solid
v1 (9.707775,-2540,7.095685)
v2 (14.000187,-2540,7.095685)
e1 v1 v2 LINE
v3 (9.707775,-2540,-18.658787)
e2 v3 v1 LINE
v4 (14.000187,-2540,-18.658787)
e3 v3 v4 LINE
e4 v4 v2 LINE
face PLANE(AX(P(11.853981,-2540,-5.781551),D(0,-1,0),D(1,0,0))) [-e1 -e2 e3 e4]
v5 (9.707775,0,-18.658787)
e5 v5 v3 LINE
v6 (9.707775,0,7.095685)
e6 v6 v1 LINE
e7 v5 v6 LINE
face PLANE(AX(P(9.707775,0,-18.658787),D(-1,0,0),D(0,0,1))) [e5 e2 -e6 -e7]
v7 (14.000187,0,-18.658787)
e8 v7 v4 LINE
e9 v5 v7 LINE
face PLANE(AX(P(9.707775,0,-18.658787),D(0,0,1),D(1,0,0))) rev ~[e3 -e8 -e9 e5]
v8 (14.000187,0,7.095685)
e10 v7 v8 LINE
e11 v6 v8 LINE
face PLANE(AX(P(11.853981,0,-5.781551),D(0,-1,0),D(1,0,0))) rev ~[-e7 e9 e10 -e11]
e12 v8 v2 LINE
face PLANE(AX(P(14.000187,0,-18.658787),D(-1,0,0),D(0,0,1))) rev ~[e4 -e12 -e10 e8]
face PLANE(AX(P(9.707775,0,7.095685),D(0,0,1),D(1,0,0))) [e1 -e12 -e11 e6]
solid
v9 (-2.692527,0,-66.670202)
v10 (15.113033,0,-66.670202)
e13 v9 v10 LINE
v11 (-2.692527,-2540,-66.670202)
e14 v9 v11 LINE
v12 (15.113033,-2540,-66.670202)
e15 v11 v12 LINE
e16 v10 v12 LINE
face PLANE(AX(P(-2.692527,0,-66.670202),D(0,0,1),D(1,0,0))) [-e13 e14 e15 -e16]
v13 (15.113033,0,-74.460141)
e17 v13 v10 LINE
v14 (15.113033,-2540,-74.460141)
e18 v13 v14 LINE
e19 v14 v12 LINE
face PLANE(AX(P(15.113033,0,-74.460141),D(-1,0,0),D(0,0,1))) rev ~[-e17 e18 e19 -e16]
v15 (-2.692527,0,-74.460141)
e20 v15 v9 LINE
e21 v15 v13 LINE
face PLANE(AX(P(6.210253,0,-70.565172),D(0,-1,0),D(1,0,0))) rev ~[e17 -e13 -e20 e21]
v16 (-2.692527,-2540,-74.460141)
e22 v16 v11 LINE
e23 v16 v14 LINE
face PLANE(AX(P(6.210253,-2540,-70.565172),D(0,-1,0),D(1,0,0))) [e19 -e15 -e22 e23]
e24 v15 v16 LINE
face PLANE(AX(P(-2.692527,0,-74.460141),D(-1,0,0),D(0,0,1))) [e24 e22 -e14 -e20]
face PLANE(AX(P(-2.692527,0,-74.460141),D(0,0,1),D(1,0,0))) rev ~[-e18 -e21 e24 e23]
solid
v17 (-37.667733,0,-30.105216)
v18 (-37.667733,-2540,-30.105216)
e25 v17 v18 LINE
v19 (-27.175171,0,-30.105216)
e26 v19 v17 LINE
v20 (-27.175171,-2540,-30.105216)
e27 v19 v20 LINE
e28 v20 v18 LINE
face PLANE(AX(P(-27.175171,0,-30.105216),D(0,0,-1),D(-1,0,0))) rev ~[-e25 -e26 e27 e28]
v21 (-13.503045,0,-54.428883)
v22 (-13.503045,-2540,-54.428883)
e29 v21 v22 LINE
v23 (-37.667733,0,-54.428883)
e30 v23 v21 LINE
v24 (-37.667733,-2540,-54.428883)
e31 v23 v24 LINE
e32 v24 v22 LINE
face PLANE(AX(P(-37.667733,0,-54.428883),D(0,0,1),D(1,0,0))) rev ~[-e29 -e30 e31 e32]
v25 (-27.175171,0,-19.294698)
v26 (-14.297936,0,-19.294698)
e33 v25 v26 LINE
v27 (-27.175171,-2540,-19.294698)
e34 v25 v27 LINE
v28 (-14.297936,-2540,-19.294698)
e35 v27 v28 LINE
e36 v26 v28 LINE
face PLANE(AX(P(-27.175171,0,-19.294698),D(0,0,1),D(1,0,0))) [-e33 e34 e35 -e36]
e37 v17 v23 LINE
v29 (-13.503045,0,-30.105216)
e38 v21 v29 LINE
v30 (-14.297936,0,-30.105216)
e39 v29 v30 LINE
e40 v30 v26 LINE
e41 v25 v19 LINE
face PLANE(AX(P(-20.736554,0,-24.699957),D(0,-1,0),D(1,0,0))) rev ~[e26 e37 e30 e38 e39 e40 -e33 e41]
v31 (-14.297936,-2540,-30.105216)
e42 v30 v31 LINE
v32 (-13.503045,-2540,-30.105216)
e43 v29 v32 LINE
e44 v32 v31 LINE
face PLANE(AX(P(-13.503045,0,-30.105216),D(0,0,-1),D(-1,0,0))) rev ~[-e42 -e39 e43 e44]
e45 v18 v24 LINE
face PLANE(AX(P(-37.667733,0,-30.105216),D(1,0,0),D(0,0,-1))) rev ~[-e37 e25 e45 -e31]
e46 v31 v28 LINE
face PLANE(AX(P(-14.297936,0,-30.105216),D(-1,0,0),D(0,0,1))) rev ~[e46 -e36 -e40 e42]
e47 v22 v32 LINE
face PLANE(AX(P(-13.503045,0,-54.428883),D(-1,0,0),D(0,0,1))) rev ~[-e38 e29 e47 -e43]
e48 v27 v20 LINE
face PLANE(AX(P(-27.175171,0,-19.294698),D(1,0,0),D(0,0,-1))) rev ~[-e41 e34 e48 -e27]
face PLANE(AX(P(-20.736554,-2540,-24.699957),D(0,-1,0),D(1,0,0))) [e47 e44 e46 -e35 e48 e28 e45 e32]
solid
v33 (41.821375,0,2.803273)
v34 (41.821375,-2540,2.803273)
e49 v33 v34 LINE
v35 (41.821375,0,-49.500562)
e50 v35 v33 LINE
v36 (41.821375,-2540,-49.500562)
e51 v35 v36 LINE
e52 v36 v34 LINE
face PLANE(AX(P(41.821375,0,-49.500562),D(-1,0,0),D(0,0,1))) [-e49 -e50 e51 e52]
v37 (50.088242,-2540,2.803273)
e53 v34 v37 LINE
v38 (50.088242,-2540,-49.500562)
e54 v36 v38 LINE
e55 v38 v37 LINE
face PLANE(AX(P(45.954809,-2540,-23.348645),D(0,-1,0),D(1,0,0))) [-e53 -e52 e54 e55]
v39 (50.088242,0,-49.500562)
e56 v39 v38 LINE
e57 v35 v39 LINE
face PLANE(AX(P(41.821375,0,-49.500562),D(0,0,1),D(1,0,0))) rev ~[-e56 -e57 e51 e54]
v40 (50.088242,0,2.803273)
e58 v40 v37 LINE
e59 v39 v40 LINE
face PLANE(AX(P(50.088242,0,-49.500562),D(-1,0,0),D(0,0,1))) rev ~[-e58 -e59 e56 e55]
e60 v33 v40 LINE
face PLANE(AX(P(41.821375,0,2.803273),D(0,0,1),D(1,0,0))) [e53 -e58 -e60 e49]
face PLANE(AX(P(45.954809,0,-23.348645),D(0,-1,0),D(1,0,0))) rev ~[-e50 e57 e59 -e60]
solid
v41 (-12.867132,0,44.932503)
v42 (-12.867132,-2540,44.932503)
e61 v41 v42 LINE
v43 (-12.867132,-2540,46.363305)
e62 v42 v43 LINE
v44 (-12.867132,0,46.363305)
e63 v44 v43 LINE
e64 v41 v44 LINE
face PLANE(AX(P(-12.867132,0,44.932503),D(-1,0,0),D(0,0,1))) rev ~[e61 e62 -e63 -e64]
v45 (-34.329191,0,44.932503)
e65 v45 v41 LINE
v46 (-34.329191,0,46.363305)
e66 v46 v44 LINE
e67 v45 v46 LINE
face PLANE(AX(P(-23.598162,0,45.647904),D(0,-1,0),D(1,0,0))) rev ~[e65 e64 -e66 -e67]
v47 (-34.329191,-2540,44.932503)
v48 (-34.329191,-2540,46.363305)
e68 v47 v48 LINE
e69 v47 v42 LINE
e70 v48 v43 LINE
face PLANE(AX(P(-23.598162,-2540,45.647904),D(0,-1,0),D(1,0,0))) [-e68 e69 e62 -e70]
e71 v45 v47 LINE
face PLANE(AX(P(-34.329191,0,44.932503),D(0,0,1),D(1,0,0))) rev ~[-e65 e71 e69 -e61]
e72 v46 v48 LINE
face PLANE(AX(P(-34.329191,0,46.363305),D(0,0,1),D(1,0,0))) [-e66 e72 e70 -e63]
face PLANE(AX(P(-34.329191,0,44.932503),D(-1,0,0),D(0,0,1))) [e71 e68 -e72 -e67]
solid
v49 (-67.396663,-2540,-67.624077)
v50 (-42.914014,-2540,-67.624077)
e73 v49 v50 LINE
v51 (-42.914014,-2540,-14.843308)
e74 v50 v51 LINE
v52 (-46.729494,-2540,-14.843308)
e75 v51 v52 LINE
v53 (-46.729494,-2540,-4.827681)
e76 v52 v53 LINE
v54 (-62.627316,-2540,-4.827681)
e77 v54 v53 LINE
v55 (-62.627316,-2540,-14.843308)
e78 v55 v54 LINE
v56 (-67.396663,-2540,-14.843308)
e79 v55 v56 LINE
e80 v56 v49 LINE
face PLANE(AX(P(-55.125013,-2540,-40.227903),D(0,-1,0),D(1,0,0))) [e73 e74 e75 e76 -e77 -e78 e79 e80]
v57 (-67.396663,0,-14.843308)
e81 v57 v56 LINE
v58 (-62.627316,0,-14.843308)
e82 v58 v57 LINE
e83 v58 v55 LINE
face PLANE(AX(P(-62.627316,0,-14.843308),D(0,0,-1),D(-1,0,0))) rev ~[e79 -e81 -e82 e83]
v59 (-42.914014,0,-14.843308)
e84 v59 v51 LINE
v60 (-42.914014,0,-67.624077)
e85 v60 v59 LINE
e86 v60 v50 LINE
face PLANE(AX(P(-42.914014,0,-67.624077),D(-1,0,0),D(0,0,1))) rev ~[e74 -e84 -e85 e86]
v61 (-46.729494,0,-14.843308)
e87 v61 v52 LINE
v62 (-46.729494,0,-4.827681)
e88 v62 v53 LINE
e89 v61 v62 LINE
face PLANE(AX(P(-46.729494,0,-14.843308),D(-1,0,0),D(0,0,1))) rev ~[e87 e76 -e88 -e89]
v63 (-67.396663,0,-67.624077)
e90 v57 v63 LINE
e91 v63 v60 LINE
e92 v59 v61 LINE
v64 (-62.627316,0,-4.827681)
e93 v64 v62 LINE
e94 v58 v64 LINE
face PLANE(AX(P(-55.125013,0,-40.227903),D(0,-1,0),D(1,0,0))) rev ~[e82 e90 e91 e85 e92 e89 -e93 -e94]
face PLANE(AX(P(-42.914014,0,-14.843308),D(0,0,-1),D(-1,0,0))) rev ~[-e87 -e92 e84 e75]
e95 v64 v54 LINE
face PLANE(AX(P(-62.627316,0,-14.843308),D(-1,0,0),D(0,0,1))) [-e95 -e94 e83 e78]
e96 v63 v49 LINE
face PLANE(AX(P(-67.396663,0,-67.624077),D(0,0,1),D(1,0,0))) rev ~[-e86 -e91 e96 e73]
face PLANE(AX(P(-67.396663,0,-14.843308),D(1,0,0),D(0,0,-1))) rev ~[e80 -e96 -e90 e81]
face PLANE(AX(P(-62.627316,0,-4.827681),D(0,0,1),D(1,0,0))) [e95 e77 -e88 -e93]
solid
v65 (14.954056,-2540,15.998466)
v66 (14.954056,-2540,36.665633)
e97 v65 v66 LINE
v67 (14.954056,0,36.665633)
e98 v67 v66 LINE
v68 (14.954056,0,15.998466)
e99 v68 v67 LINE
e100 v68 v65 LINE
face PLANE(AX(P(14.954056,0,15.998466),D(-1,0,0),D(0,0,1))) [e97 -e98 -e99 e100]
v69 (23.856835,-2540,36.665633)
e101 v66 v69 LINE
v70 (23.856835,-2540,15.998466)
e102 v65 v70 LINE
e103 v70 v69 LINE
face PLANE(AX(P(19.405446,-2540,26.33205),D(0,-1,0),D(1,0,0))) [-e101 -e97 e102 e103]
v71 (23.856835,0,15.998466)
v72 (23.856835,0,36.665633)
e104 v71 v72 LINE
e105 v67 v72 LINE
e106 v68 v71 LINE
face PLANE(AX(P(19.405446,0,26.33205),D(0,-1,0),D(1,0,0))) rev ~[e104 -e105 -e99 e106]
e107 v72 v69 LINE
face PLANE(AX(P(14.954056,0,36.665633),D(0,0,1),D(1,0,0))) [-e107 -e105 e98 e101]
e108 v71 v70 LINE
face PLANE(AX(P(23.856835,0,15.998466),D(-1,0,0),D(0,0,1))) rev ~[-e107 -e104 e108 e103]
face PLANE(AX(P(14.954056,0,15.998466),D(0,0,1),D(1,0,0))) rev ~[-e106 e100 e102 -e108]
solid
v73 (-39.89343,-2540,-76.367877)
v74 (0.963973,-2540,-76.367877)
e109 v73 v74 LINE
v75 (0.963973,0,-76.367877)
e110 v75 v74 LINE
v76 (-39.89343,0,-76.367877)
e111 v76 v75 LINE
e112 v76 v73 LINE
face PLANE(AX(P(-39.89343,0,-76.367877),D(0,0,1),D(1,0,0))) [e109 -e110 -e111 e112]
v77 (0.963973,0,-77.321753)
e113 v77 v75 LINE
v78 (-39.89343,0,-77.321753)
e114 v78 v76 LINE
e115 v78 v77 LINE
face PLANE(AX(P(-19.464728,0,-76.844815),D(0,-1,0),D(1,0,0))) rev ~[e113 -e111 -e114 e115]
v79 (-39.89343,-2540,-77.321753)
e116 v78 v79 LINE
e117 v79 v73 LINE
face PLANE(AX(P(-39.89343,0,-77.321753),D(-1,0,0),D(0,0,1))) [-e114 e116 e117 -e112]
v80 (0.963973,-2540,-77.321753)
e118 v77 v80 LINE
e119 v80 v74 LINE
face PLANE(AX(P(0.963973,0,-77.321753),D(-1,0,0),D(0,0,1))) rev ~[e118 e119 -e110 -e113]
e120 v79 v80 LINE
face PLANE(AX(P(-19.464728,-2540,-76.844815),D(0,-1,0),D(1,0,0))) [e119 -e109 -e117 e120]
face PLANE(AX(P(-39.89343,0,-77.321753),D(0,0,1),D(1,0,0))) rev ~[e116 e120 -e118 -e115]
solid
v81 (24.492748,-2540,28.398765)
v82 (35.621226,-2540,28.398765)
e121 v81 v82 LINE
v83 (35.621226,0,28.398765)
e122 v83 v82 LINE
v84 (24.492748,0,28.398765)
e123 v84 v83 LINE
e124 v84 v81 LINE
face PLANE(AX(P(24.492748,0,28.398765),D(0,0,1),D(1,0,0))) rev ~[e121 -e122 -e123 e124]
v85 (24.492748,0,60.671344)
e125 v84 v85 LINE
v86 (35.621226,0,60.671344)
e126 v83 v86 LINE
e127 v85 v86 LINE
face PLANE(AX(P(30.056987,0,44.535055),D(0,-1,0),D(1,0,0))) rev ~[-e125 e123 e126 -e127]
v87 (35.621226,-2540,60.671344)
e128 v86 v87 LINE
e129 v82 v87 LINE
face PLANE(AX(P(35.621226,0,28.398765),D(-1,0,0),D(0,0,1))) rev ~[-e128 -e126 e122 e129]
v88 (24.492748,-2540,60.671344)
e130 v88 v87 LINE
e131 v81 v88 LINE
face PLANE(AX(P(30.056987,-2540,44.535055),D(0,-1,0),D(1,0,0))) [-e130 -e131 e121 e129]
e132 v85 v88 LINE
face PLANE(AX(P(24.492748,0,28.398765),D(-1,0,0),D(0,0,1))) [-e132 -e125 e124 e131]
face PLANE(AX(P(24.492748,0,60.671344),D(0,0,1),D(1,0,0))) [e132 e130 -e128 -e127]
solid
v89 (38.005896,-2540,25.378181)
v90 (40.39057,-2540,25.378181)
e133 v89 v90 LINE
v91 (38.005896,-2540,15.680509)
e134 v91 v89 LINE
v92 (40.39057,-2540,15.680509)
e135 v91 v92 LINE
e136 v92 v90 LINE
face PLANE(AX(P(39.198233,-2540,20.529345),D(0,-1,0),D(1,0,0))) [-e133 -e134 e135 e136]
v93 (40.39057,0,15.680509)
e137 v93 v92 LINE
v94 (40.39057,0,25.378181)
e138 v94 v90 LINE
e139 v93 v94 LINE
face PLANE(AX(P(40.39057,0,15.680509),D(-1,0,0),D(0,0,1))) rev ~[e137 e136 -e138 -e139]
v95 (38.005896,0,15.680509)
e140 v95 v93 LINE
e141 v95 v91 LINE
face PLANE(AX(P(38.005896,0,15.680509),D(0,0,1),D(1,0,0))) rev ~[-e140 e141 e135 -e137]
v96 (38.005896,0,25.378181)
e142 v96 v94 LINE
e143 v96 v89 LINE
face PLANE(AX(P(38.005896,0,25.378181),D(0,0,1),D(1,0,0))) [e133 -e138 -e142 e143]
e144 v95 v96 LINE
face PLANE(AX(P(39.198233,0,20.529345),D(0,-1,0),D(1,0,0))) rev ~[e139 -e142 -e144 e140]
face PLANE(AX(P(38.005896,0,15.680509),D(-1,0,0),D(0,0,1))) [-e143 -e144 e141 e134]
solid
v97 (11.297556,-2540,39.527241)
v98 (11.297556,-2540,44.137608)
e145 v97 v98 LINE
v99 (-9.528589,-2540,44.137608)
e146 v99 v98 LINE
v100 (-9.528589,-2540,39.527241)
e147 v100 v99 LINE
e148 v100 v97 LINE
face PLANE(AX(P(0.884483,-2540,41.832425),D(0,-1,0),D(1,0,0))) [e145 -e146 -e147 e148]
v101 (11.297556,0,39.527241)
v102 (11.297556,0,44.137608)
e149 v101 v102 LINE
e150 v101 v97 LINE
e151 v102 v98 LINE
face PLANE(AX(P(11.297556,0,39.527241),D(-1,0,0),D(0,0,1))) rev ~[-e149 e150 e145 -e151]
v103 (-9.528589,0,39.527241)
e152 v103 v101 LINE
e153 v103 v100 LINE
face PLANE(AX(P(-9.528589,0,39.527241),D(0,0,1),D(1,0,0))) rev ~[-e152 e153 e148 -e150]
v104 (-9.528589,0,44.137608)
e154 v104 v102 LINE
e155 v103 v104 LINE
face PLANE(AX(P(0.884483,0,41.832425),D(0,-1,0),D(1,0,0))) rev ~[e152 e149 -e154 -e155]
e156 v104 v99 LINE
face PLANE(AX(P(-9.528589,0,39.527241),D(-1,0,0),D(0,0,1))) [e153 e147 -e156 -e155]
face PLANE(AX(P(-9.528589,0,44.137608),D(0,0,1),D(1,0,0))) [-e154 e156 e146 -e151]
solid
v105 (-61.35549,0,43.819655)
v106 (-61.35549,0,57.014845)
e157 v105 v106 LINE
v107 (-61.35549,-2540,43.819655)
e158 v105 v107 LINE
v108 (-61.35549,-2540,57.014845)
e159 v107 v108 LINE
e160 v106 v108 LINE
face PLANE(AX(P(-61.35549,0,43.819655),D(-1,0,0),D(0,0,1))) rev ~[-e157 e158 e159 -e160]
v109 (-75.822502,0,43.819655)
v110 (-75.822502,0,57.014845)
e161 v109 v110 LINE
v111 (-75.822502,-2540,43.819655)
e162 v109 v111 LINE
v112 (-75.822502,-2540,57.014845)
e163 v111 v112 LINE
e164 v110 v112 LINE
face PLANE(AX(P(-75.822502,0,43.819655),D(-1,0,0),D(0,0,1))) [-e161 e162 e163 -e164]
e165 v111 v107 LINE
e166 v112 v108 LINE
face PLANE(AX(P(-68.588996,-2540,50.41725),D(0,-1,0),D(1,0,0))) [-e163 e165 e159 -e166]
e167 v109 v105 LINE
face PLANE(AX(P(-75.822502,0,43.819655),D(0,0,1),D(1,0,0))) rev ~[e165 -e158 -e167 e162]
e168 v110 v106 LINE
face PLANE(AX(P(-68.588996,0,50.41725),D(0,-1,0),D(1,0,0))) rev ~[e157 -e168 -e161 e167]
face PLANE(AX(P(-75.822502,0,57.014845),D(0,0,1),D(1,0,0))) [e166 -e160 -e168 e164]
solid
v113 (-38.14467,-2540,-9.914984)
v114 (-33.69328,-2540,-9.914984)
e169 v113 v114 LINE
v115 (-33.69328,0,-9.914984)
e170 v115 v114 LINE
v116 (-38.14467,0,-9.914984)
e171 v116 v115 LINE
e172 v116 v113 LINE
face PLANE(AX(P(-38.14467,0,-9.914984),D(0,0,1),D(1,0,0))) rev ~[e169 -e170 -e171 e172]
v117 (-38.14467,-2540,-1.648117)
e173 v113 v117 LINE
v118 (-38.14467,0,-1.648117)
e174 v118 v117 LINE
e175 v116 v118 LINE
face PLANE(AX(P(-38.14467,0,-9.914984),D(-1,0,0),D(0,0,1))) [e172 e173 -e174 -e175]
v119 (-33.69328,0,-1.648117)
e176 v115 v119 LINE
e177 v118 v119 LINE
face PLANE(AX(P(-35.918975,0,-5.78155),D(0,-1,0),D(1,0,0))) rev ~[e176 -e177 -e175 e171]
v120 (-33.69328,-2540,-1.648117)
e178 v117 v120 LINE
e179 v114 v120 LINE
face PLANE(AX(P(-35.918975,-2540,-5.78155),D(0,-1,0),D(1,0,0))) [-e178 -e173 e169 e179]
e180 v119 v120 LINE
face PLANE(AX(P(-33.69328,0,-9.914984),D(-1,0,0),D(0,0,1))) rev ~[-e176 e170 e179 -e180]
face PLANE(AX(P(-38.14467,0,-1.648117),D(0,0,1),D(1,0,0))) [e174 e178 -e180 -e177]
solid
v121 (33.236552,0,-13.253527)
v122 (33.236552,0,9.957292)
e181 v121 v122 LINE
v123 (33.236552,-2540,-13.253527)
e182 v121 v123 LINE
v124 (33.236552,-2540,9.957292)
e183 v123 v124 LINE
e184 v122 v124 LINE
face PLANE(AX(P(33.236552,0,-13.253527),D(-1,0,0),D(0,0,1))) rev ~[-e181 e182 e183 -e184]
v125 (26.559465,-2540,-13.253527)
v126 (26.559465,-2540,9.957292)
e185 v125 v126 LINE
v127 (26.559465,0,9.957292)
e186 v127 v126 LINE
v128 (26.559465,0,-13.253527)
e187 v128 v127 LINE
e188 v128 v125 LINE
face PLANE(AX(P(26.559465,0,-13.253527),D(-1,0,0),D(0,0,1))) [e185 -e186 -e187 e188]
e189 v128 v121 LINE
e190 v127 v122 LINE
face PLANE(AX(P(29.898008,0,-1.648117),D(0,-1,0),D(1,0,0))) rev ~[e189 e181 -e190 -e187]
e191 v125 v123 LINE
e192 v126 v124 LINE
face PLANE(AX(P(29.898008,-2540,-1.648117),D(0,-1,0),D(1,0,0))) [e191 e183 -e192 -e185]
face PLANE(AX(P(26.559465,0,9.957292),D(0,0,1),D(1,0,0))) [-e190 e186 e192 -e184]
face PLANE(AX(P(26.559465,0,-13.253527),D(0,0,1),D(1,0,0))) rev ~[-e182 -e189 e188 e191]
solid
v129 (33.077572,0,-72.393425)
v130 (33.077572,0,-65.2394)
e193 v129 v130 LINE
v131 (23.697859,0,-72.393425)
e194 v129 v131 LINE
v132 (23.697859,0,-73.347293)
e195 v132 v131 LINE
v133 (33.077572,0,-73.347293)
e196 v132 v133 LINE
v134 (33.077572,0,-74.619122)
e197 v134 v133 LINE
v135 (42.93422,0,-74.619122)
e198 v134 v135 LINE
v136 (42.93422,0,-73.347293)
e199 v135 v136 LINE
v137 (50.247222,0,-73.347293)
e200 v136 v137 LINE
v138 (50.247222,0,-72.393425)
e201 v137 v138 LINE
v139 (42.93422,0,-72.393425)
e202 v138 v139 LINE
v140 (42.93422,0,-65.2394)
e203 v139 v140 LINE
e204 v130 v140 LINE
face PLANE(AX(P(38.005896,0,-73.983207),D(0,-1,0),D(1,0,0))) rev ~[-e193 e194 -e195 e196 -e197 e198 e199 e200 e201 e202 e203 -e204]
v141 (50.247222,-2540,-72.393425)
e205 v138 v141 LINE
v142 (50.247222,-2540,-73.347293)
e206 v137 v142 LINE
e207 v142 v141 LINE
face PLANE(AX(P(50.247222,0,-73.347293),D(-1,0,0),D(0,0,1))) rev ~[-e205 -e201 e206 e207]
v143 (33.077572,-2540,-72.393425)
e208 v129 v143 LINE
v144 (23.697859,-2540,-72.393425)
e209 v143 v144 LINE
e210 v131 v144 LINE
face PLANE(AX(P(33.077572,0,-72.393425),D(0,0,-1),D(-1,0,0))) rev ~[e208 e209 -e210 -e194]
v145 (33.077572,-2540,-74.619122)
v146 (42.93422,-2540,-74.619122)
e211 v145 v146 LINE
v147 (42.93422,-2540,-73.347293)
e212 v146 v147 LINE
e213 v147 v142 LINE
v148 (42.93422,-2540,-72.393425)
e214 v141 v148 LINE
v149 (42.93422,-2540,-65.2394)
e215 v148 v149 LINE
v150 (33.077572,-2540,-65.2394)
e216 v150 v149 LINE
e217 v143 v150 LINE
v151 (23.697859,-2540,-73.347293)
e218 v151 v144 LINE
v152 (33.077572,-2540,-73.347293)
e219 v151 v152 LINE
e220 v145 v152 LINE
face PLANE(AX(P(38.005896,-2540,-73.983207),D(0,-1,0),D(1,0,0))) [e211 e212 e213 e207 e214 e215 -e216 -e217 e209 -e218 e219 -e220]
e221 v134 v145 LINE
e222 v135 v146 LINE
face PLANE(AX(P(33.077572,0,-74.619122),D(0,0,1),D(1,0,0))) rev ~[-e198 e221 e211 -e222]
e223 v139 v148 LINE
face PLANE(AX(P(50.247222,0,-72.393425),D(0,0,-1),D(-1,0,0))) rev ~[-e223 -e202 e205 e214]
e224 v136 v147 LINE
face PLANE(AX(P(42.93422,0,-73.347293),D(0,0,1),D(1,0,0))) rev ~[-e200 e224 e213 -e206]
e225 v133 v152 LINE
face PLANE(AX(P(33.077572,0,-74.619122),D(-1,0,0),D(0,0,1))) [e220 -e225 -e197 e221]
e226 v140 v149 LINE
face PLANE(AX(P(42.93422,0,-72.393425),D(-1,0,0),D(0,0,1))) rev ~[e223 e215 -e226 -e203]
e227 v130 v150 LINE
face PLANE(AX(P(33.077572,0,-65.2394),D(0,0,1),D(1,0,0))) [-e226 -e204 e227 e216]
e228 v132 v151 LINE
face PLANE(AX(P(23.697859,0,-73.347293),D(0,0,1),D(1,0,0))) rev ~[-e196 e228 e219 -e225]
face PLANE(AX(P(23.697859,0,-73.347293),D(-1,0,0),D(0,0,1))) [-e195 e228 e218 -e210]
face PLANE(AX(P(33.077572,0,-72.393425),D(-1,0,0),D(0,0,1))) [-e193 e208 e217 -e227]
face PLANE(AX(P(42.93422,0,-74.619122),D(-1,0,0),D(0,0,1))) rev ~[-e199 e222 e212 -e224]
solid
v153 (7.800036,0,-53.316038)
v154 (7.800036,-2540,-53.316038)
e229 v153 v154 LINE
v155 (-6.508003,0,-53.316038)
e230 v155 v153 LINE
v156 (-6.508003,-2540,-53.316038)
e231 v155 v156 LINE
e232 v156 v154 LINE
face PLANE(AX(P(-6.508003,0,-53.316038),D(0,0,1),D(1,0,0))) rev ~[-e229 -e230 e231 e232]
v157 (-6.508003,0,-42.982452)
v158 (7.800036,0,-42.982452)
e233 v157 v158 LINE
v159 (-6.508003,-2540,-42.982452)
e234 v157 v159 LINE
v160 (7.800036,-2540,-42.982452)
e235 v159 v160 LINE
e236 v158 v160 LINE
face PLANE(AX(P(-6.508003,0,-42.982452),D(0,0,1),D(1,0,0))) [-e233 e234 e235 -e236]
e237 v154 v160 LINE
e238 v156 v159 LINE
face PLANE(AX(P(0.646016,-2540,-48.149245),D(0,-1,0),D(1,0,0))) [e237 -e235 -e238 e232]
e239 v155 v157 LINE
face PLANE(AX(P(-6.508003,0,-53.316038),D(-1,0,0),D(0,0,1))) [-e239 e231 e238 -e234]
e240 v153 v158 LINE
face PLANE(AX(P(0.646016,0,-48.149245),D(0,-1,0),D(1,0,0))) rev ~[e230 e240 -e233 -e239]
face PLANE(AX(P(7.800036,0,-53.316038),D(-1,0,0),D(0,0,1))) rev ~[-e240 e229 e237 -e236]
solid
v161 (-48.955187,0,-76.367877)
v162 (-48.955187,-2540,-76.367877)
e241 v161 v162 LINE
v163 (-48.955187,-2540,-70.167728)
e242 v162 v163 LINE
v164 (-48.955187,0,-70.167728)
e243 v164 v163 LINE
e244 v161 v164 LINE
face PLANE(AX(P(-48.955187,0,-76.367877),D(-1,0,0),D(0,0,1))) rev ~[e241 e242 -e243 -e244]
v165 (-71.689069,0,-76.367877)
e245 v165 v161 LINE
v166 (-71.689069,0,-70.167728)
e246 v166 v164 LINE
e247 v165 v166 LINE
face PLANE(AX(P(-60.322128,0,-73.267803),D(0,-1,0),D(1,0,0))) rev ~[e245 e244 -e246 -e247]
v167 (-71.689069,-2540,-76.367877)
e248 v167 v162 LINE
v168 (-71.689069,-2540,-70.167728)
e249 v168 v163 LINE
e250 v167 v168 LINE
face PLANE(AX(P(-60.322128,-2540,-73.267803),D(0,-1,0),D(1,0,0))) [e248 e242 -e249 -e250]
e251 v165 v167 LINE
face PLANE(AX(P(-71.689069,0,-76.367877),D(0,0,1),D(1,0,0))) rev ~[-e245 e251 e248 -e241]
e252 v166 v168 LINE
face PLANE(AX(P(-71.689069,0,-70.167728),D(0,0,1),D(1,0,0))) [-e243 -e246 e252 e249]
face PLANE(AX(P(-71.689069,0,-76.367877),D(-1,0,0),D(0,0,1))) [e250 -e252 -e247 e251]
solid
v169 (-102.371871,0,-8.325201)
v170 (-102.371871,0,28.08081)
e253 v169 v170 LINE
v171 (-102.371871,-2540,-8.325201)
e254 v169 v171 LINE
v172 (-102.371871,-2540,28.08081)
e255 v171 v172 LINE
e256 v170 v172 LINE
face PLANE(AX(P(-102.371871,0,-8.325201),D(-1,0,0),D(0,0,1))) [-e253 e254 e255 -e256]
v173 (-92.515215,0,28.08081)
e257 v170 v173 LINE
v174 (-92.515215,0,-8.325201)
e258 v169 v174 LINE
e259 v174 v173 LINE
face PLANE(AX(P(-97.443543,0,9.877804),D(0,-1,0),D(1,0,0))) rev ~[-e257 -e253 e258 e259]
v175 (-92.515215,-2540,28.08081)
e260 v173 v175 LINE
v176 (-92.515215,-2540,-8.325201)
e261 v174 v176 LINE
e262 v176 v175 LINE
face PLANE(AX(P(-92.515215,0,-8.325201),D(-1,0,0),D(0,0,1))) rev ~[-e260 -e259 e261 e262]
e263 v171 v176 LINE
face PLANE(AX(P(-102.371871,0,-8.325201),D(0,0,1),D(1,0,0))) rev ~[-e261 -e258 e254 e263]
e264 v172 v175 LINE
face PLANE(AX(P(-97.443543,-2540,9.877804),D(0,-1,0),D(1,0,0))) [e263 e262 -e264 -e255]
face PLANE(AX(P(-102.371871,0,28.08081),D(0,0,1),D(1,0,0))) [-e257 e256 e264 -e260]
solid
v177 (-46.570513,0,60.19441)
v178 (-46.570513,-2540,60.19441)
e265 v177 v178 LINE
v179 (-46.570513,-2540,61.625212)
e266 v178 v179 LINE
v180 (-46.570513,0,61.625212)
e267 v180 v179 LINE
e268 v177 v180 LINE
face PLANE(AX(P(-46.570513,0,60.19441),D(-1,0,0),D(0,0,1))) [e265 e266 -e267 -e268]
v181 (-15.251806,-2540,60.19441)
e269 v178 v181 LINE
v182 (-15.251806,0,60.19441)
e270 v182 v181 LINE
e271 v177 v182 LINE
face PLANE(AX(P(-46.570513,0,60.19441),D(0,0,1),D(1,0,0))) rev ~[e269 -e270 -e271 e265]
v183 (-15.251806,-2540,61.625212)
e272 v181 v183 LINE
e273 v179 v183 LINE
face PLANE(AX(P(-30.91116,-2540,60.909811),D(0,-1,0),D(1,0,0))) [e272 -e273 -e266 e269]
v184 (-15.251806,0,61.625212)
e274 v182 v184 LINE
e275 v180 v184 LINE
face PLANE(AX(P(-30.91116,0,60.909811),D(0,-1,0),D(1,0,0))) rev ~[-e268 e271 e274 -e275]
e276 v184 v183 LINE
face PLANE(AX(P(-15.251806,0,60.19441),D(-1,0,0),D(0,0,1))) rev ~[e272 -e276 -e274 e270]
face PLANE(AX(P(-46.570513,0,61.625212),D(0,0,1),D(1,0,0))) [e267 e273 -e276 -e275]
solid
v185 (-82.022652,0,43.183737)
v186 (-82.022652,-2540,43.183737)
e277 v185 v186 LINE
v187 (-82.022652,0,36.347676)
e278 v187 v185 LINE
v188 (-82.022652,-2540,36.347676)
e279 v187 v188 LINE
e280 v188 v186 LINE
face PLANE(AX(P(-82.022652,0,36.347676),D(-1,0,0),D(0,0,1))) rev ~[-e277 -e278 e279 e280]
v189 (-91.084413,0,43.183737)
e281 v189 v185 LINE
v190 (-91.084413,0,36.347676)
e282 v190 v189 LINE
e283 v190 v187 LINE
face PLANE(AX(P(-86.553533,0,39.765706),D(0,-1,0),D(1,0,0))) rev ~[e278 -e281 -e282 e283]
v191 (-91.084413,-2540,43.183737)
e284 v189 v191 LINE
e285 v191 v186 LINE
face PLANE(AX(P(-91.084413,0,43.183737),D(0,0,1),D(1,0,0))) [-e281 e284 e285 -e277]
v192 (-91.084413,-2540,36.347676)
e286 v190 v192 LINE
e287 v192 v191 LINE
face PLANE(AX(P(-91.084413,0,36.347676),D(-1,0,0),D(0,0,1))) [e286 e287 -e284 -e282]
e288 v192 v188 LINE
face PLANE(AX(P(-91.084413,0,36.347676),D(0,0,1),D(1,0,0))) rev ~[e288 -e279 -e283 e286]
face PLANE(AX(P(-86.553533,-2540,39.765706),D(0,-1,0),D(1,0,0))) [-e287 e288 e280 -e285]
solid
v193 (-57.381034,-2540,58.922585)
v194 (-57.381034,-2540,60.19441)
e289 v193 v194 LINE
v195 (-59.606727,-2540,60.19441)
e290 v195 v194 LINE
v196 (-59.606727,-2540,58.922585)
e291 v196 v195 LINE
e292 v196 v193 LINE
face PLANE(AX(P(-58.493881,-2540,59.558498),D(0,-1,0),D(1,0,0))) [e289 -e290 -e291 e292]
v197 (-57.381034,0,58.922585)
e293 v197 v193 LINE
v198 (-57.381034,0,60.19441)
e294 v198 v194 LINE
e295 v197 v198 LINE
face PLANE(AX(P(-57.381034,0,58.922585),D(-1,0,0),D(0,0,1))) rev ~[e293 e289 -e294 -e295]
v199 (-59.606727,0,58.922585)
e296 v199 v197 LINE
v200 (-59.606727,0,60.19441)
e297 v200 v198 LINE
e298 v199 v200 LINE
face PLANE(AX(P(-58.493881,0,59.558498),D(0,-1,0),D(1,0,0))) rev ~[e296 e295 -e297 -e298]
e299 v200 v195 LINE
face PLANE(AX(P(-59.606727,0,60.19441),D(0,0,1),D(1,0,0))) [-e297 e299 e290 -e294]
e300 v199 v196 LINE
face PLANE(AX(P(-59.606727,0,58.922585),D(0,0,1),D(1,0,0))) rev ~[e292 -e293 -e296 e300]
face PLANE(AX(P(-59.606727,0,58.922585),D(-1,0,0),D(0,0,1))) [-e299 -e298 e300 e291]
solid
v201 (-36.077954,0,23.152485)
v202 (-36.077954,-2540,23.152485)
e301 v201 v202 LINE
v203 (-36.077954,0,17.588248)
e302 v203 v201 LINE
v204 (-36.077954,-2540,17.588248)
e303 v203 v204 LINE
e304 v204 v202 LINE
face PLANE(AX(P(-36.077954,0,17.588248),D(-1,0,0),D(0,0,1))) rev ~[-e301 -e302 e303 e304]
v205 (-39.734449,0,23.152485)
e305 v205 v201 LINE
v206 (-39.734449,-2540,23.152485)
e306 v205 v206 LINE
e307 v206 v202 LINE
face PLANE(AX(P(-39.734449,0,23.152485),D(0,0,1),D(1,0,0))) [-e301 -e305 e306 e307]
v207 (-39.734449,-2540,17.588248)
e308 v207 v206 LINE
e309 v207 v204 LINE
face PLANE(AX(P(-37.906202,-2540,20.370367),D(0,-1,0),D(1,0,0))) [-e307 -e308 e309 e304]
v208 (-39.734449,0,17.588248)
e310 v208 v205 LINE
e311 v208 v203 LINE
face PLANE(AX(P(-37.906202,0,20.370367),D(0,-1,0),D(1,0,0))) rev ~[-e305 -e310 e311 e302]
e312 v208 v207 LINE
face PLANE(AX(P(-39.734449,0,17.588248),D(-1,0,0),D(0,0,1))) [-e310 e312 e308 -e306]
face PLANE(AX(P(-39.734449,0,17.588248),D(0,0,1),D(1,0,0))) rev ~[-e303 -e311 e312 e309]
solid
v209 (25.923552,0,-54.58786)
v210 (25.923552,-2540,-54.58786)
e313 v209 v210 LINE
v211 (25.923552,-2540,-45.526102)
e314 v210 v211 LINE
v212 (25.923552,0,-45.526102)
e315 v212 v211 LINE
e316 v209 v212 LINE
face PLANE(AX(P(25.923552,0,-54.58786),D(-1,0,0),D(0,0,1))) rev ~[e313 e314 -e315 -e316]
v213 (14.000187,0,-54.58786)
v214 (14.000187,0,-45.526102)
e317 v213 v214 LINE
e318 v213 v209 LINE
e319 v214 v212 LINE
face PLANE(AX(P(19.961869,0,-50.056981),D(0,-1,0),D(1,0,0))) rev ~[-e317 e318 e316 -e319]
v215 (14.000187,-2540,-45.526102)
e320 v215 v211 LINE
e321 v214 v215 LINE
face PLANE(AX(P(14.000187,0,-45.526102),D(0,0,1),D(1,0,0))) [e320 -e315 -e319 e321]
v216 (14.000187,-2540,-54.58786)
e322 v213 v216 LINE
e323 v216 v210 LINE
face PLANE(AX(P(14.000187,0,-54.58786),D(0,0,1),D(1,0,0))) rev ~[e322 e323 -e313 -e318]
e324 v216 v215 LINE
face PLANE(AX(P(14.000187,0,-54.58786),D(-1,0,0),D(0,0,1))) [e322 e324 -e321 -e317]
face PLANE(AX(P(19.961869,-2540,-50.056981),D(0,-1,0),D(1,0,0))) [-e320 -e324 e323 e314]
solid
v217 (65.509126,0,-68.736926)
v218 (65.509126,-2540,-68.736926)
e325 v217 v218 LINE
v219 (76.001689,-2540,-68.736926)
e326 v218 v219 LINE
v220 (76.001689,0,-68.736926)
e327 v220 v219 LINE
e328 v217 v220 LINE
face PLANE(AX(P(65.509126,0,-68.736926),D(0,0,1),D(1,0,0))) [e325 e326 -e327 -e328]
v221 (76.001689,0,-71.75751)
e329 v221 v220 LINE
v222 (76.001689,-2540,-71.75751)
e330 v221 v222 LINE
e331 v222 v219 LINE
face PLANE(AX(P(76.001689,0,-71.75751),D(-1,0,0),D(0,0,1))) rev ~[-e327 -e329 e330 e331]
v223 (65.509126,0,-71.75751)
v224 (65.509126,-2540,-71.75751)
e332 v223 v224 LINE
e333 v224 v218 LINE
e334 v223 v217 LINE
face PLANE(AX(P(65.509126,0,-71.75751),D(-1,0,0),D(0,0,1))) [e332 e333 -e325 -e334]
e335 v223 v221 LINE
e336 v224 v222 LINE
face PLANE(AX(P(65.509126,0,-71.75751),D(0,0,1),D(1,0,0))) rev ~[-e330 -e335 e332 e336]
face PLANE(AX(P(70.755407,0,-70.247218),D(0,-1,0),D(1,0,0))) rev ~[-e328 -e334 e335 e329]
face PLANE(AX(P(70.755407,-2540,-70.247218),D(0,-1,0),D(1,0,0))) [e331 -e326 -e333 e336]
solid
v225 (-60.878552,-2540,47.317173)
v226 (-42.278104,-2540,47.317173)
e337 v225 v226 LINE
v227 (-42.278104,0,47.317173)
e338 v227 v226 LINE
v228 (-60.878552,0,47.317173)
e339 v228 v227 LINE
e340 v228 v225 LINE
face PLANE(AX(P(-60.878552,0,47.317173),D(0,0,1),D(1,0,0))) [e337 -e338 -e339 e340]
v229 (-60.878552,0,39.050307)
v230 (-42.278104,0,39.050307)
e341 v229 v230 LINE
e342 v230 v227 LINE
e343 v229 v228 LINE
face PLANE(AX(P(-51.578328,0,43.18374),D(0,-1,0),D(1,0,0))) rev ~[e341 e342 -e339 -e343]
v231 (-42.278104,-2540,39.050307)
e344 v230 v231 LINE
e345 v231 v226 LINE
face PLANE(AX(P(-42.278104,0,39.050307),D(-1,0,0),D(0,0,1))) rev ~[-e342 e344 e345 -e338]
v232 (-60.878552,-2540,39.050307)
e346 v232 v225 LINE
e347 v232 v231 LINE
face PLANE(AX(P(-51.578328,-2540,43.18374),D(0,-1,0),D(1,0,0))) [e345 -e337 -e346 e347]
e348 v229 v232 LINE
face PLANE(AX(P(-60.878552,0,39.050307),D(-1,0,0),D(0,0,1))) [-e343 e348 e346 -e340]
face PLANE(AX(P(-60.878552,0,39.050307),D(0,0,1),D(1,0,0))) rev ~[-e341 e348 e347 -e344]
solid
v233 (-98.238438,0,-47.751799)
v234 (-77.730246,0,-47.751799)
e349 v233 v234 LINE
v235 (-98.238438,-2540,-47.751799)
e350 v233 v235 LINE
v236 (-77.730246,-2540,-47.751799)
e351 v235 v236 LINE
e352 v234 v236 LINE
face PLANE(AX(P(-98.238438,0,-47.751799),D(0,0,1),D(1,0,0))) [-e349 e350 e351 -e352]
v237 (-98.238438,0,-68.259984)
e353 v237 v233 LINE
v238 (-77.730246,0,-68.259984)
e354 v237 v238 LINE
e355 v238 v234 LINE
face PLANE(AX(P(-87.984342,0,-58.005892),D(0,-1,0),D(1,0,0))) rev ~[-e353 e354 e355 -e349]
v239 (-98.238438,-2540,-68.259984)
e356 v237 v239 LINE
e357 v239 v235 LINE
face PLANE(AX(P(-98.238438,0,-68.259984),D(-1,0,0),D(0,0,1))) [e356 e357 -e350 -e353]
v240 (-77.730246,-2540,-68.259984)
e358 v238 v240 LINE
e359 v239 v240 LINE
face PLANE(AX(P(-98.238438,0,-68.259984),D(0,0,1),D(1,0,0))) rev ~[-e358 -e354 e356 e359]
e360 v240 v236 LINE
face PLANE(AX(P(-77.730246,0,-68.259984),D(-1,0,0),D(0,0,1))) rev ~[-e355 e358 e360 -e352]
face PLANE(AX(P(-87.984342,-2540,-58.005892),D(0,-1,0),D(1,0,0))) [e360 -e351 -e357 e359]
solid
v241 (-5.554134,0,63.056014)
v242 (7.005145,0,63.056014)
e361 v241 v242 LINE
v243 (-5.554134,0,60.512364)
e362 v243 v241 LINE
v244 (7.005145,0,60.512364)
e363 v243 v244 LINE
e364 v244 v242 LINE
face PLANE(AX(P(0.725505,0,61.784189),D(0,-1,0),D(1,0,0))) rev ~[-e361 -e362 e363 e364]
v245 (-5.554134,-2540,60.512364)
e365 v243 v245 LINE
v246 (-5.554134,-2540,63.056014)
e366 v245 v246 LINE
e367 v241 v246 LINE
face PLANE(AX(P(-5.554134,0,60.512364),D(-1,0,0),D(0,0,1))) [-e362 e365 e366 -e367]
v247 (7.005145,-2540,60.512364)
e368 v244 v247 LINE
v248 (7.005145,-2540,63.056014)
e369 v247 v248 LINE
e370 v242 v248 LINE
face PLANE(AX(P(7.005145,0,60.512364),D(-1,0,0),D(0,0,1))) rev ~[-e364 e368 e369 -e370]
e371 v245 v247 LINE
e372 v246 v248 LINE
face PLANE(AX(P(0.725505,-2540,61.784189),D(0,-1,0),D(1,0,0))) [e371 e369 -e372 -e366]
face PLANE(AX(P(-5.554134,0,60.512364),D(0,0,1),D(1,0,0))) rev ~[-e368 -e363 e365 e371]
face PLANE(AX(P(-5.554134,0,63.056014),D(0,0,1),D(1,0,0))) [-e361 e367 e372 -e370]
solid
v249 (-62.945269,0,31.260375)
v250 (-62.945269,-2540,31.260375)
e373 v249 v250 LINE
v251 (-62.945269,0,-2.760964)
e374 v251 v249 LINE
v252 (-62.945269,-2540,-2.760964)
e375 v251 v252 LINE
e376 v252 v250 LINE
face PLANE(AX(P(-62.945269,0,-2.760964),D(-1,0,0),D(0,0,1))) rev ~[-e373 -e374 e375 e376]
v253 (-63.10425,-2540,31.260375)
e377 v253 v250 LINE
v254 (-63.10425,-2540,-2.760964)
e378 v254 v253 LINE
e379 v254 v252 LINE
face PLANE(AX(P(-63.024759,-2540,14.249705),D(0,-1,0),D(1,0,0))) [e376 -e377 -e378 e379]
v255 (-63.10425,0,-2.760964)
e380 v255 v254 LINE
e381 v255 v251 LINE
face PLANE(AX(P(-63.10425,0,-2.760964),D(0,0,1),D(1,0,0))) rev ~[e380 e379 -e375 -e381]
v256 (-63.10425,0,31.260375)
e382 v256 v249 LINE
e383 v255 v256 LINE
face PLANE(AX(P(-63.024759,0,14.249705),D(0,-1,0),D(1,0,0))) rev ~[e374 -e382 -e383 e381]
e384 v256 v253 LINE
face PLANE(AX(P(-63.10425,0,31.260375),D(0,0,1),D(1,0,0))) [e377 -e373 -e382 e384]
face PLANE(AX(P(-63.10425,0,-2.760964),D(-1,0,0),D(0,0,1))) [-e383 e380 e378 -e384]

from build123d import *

# Parameters (mm, degrees)
F0_W     = 15.897821635
F0_H     = 10.0156273693
F0_H_2   = 5.2462806925
F1_DEPTH = 2540
F0_W_2   = 4.2924117297
F0_H_3   = 25.7544722408
F0_W_3   = 3.6564953625
F0_H_4   = 5.5642370135
F0_W_4   = 4.4513903558
F0_H_5   = 8.2668672549
F0_W_5   = 12.8772351891
F0_H_6   = 10.8105186373
F0_H_7   = 8.1078913063
F0_W_6   = 14.3080395646
F0_H_8   = 10.3335864842
F0_W_7   = 11.9233652949
F0_H_9   = 9.0617574751
F0_W_8   = 6.6770873964
F0_H_10  = 23.2108188793
F0_W_9   = 8.9027797803
F0_H_11  = 20.6671673805
F0_W_10  = 20.8261450753
F0_H_12  = 4.6103671193
F0_W_11  = 21.4620586485
F0_H_13  = 1.4308020473
F0_W_12  = 18.600448966
F0_H_14  = 8.2668662071
F0_W_13  = 0.1589804888
F0_H_15  = 34.0213391464
F0_W_14  = 17.8055600263
F0_H_16  = 7.789939642
F0_W_15  = 9.8566487432
F0_H_17  = 1.2718290091
F0_W_16  = 9.3797128648
F0_H_18  = 0.9538680315
F0_W_17  = 7.3130019009
F0_H_19  = 7.1540251374
F0_W_18  = 8.2668662071
F0_H_20  = 52.303835284
F0_W_19  = 2.384673804
F0_H_21  = 9.6976719797
F0_W_20  = 11.1284777522
F0_H_22  = 32.2725791484
F0_W_21  = 12.5592797995
F0_H_23  = 2.5436505675
F0_W_22  = 31.3187073916
F0_W_23  = 2.2256933153
F0_H_24  = 1.2718252838
F0_W_24  = 14.4670121372
F0_H_25  = 13.1951905787
F0_W_25  = 9.0617612004
F0_H_26  = 6.8360604346
F0_W_26  = 9.8566561937
F0_H_27  = 36.4060113207
F0_W_27  = 20.5081924796
F0_H_28  = 20.508185029
F0_W_28  = 22.7338820696
F0_H_29  = 6.2001496553
F0_W_29  = 40.8574024914
F0_H_30  = 0.9538754821
F0_W_30  = 10.4925632477
F0_H_31  = 3.0205845833


with BuildPart() as f1:
    # F0 (on Front) → F1 (new body)
    with BuildSketch(Plane.XZ):
        Polygon((-62.6273155212, -14.8433083668), (-67.3966631293, -14.8433083668), (-67.3966631293, -67.6240772009), (-42.9140143096, -67.6240772009), (-42.9140143096, -14.8433083668), (-46.7294938862, -14.8433083668), (-46.7294938862, -20.0895890594), (-62.6273155212, -20.0895890594), align=None)
        with Locations((-54.6784047037, -9.8354946822)):
            Rectangle(F0_W, F0_H)
        with Locations((-54.6784047037, -17.4664487131)):
            Rectangle(F0_W, F0_H_2)
    extrude(amount=F1_DEPTH)


with BuildPart() as f1b:
    # F0 (on Front) → F1, piece 2 (new body)
    with BuildSketch(Plane.XZ):
        with Locations((11.8539808318, -5.7815508917)):
            Rectangle(F0_W_2, F0_H_3)
    extrude(amount=F1_DEPTH)


with BuildPart() as f1c:
    # F0 (on Front) → F1, piece 3 (new body)
    with BuildSketch(Plane.XZ):
        with Locations((-37.9062015563, 20.3703669831)):
            Rectangle(F0_W_3, F0_H_4)
    extrude(amount=F1_DEPTH)


with BuildPart() as f1d:
    # F0 (on Front) → F1, piece 4 (new body)
    with BuildSketch(Plane.XZ):
        with Locations((-35.9189752489, -5.7815503678)):
            Rectangle(F0_W_4, F0_H_5)
    extrude(amount=F1_DEPTH)


with BuildPart() as f1e:
    # F0 (on Front) → F1, piece 5 (new body)
    with BuildSketch(Plane.XZ):
        with Locations((-20.7365537062, -24.69995711)):
            Rectangle(F0_W_5, F0_H_6)
        with Locations((-20.7365537062, -34.1591620818)):
            Rectangle(F0_W_5, F0_H_7)
        Polygon((-27.1751713008, -38.2131077349), (-27.1751713008, -30.1052164286), (-37.6677326858, -30.1052164286), (-37.6677326858, -54.4288828969), (-13.5030448437, -54.4288828969), (-13.5030448437, -30.1052164286), (-14.2979361117, -30.1052164286), (-14.2979361117, -38.2131077349), align=None)
    extrude(amount=F1_DEPTH)


with BuildPart() as f1f:
    # F0 (on Front) → F1, piece 6 (new body)
    with BuildSketch(Plane.XZ):
        with Locations((0.6460163277, -48.1492448598)):
            Rectangle(F0_W_6, F0_H_8)
    extrude(amount=F1_DEPTH)


with BuildPart() as f1g:
    # F0 (on Front) → F1, piece 7 (new body)
    with BuildSketch(Plane.XZ):
        with Locations((19.9618693441, -50.0569809228)):
            Rectangle(F0_W_7, F0_H_9)
    extrude(amount=F1_DEPTH)


with BuildPart() as f1h:
    # F0 (on Front) → F1, piece 8 (new body)
    with BuildSketch(Plane.XZ):
        with Locations((29.8980083317, -1.6481173225)):
            Rectangle(F0_W_8, F0_H_10)
    extrude(amount=F1_DEPTH)


with BuildPart() as f1i:
    # F0 (on Front) → F1, piece 9 (new body)
    with BuildSketch(Plane.XZ):
        with Locations((19.4054455496, 26.3320496306)):
            Rectangle(F0_W_9, F0_H_11)
    extrude(amount=F1_DEPTH)


with BuildPart() as f1j:
    # F0 (on Front) → F1, piece 10 (new body)
    with BuildSketch(Plane.XZ):
        with Locations((0.8844831027, 41.8324247003)):
            Rectangle(F0_W_10, F0_H_12)
    extrude(amount=F1_DEPTH)


with BuildPart() as f1k:
    # F0 (on Front) → F1, piece 11 (new body)
    with BuildSketch(Plane.XZ):
        with Locations((-23.598161526, 45.6479042768)):
            Rectangle(F0_W_11, F0_H_13)
    extrude(amount=F1_DEPTH)


with BuildPart() as f1l:
    # F0 (on Front) → F1, piece 12 (new body)
    with BuildSketch(Plane.XZ):
        with Locations((-51.5783280134, 43.1837402284)):
            Rectangle(F0_W_12, F0_H_14)
    extrude(amount=F1_DEPTH)


with BuildPart() as f1m:
    # F0 (on Front) → F1, piece 13 (new body)
    with BuildSketch(Plane.XZ):
        with Locations((-63.0247592926, 14.2497053603)):
            Rectangle(F0_W_13, F0_H_15)
    extrude(amount=F1_DEPTH)


with BuildPart() as f1n:
    # F0 (on Front) → F1, piece 14 (new body)
    with BuildSketch(Plane.XZ):
        with Locations((6.2102533411, -70.5651715398)):
            Rectangle(F0_W_14, F0_H_16)
    extrude(amount=F1_DEPTH)


with BuildPart() as f1o:
    # F0 (on Front) → F1, piece 15 (new body)
    with BuildSketch(Plane.XZ):
        with Locations((38.0058959126, -73.983207345)):
            Rectangle(F0_W_15, F0_H_17)
        with Locations((28.3877151087, -72.8703588247)):
            Rectangle(F0_W_16, F0_H_18)
        with Locations((38.0058959126, -72.8703588247)):
            Rectangle(F0_W_15, F0_H_18)
        with Locations((46.5907212347, -72.8703588247)):
            Rectangle(F0_W_17, F0_H_18)
        with Locations((38.0058959126, -68.8164122403)):
            Rectangle(F0_W_15, F0_H_19)
    extrude(amount=F1_DEPTH)


with BuildPart() as f1p:
    # F0 (on Front) → F1, piece 16 (new body)
    with BuildSketch(Plane.XZ):
        with Locations((45.9548085928, -23.3486446086)):
            Rectangle(F0_W_18, F0_H_20)
    extrude(amount=F1_DEPTH)


with BuildPart() as f1q:
    # F0 (on Front) → F1, piece 17 (new body)
    with BuildSketch(Plane.XZ):
        with Locations((39.1982328147, 20.5293446779)):
            Rectangle(F0_W_19, F0_H_21)
    extrude(amount=F1_DEPTH)


with BuildPart() as f1r:
    # F0 (on Front) → F1, piece 18 (new body)
    with BuildSketch(Plane.XZ):
        with Locations((30.0569869578, 44.5350548252)):
            Rectangle(F0_W_20, F0_H_22)
    extrude(amount=F1_DEPTH)


with BuildPart() as f1s:
    # F0 (on Front) → F1, piece 19 (new body)
    with BuildSketch(Plane.XZ):
        with Locations((0.7255054079, 61.7841891944)):
            Rectangle(F0_W_21, F0_H_23)
    extrude(amount=F1_DEPTH)


with BuildPart() as f1t:
    # F0 (on Front) → F1, piece 20 (new body)
    with BuildSketch(Plane.XZ):
        with Locations((-30.9111597016, 60.9098114073)):
            Rectangle(F0_W_22, F0_H_13)
    extrude(amount=F1_DEPTH)


with BuildPart() as f1u:
    # F0 (on Front) → F1, piece 21 (new body)
    with BuildSketch(Plane.XZ):
        with Locations((-58.493880555, 59.5584977418)):
            Rectangle(F0_W_23, F0_H_24)
    extrude(amount=F1_DEPTH)


with BuildPart() as f1v:
    # F0 (on Front) → F1, piece 22 (new body)
    with BuildSketch(Plane.XZ):
        with Locations((-68.5889963061, 50.4172500223)):
            Rectangle(F0_W_24, F0_H_25)
    extrude(amount=F1_DEPTH)


with BuildPart() as f1w:
    # F0 (on Front) → F1, piece 23 (new body)
    with BuildSketch(Plane.XZ):
        with Locations((-86.5535326302, 39.7657062858)):
            Rectangle(F0_W_25, F0_H_26)
    extrude(amount=F1_DEPTH)


with BuildPart() as f1x:
    # F0 (on Front) → F1, piece 24 (new body)
    with BuildSketch(Plane.XZ):
        with Locations((-97.4435433745, 9.8778042011)):
            Rectangle(F0_W_26, F0_H_27)
    extrude(amount=F1_DEPTH)


with BuildPart() as f1y:
    # F0 (on Front) → F1, piece 25 (new body)
    with BuildSketch(Plane.XZ):
        with Locations((-87.984342128, -58.0058917403)):
            Rectangle(F0_W_27, F0_H_28)
    extrude(amount=F1_DEPTH)


with BuildPart() as f1z:
    # F0 (on Front) → F1, piece 26 (new body)
    with BuildSketch(Plane.XZ):
        with Locations((-60.3221282363, -73.2678025961)):
            Rectangle(F0_W_28, F0_H_29)
    extrude(amount=F1_DEPTH)


with BuildPart() as f1ba:
    # F0 (on Front) → F1, piece 27 (new body)
    with BuildSketch(Plane.XZ):
        with Locations((-19.4647284807, -76.8448151648)):
            Rectangle(F0_W_29, F0_H_30)
    extrude(amount=F1_DEPTH)


with BuildPart() as f1bb:
    # F0 (on Front) → F1, piece 28 (new body)
    with BuildSketch(Plane.XZ):
        with Locations((70.7554072142, -70.2472180128)):
            Rectangle(F0_W_30, F0_H_31)
    extrude(amount=F1_DEPTH)


solid = Compound([f1.part, f1b.part, f1c.part, f1d.part, f1e.part, f1f.part, f1g.part, f1h.part, f1i.part, f1j.part, f1k.part, f1l.part, f1m.part, f1n.part, f1o.part, f1p.part, f1q.part, f1r.part, f1s.part, f1t.part, f1u.part, f1v.part, f1w.part, f1x.part, f1y.part, f1z.part, f1ba.part, f1bb.part])
